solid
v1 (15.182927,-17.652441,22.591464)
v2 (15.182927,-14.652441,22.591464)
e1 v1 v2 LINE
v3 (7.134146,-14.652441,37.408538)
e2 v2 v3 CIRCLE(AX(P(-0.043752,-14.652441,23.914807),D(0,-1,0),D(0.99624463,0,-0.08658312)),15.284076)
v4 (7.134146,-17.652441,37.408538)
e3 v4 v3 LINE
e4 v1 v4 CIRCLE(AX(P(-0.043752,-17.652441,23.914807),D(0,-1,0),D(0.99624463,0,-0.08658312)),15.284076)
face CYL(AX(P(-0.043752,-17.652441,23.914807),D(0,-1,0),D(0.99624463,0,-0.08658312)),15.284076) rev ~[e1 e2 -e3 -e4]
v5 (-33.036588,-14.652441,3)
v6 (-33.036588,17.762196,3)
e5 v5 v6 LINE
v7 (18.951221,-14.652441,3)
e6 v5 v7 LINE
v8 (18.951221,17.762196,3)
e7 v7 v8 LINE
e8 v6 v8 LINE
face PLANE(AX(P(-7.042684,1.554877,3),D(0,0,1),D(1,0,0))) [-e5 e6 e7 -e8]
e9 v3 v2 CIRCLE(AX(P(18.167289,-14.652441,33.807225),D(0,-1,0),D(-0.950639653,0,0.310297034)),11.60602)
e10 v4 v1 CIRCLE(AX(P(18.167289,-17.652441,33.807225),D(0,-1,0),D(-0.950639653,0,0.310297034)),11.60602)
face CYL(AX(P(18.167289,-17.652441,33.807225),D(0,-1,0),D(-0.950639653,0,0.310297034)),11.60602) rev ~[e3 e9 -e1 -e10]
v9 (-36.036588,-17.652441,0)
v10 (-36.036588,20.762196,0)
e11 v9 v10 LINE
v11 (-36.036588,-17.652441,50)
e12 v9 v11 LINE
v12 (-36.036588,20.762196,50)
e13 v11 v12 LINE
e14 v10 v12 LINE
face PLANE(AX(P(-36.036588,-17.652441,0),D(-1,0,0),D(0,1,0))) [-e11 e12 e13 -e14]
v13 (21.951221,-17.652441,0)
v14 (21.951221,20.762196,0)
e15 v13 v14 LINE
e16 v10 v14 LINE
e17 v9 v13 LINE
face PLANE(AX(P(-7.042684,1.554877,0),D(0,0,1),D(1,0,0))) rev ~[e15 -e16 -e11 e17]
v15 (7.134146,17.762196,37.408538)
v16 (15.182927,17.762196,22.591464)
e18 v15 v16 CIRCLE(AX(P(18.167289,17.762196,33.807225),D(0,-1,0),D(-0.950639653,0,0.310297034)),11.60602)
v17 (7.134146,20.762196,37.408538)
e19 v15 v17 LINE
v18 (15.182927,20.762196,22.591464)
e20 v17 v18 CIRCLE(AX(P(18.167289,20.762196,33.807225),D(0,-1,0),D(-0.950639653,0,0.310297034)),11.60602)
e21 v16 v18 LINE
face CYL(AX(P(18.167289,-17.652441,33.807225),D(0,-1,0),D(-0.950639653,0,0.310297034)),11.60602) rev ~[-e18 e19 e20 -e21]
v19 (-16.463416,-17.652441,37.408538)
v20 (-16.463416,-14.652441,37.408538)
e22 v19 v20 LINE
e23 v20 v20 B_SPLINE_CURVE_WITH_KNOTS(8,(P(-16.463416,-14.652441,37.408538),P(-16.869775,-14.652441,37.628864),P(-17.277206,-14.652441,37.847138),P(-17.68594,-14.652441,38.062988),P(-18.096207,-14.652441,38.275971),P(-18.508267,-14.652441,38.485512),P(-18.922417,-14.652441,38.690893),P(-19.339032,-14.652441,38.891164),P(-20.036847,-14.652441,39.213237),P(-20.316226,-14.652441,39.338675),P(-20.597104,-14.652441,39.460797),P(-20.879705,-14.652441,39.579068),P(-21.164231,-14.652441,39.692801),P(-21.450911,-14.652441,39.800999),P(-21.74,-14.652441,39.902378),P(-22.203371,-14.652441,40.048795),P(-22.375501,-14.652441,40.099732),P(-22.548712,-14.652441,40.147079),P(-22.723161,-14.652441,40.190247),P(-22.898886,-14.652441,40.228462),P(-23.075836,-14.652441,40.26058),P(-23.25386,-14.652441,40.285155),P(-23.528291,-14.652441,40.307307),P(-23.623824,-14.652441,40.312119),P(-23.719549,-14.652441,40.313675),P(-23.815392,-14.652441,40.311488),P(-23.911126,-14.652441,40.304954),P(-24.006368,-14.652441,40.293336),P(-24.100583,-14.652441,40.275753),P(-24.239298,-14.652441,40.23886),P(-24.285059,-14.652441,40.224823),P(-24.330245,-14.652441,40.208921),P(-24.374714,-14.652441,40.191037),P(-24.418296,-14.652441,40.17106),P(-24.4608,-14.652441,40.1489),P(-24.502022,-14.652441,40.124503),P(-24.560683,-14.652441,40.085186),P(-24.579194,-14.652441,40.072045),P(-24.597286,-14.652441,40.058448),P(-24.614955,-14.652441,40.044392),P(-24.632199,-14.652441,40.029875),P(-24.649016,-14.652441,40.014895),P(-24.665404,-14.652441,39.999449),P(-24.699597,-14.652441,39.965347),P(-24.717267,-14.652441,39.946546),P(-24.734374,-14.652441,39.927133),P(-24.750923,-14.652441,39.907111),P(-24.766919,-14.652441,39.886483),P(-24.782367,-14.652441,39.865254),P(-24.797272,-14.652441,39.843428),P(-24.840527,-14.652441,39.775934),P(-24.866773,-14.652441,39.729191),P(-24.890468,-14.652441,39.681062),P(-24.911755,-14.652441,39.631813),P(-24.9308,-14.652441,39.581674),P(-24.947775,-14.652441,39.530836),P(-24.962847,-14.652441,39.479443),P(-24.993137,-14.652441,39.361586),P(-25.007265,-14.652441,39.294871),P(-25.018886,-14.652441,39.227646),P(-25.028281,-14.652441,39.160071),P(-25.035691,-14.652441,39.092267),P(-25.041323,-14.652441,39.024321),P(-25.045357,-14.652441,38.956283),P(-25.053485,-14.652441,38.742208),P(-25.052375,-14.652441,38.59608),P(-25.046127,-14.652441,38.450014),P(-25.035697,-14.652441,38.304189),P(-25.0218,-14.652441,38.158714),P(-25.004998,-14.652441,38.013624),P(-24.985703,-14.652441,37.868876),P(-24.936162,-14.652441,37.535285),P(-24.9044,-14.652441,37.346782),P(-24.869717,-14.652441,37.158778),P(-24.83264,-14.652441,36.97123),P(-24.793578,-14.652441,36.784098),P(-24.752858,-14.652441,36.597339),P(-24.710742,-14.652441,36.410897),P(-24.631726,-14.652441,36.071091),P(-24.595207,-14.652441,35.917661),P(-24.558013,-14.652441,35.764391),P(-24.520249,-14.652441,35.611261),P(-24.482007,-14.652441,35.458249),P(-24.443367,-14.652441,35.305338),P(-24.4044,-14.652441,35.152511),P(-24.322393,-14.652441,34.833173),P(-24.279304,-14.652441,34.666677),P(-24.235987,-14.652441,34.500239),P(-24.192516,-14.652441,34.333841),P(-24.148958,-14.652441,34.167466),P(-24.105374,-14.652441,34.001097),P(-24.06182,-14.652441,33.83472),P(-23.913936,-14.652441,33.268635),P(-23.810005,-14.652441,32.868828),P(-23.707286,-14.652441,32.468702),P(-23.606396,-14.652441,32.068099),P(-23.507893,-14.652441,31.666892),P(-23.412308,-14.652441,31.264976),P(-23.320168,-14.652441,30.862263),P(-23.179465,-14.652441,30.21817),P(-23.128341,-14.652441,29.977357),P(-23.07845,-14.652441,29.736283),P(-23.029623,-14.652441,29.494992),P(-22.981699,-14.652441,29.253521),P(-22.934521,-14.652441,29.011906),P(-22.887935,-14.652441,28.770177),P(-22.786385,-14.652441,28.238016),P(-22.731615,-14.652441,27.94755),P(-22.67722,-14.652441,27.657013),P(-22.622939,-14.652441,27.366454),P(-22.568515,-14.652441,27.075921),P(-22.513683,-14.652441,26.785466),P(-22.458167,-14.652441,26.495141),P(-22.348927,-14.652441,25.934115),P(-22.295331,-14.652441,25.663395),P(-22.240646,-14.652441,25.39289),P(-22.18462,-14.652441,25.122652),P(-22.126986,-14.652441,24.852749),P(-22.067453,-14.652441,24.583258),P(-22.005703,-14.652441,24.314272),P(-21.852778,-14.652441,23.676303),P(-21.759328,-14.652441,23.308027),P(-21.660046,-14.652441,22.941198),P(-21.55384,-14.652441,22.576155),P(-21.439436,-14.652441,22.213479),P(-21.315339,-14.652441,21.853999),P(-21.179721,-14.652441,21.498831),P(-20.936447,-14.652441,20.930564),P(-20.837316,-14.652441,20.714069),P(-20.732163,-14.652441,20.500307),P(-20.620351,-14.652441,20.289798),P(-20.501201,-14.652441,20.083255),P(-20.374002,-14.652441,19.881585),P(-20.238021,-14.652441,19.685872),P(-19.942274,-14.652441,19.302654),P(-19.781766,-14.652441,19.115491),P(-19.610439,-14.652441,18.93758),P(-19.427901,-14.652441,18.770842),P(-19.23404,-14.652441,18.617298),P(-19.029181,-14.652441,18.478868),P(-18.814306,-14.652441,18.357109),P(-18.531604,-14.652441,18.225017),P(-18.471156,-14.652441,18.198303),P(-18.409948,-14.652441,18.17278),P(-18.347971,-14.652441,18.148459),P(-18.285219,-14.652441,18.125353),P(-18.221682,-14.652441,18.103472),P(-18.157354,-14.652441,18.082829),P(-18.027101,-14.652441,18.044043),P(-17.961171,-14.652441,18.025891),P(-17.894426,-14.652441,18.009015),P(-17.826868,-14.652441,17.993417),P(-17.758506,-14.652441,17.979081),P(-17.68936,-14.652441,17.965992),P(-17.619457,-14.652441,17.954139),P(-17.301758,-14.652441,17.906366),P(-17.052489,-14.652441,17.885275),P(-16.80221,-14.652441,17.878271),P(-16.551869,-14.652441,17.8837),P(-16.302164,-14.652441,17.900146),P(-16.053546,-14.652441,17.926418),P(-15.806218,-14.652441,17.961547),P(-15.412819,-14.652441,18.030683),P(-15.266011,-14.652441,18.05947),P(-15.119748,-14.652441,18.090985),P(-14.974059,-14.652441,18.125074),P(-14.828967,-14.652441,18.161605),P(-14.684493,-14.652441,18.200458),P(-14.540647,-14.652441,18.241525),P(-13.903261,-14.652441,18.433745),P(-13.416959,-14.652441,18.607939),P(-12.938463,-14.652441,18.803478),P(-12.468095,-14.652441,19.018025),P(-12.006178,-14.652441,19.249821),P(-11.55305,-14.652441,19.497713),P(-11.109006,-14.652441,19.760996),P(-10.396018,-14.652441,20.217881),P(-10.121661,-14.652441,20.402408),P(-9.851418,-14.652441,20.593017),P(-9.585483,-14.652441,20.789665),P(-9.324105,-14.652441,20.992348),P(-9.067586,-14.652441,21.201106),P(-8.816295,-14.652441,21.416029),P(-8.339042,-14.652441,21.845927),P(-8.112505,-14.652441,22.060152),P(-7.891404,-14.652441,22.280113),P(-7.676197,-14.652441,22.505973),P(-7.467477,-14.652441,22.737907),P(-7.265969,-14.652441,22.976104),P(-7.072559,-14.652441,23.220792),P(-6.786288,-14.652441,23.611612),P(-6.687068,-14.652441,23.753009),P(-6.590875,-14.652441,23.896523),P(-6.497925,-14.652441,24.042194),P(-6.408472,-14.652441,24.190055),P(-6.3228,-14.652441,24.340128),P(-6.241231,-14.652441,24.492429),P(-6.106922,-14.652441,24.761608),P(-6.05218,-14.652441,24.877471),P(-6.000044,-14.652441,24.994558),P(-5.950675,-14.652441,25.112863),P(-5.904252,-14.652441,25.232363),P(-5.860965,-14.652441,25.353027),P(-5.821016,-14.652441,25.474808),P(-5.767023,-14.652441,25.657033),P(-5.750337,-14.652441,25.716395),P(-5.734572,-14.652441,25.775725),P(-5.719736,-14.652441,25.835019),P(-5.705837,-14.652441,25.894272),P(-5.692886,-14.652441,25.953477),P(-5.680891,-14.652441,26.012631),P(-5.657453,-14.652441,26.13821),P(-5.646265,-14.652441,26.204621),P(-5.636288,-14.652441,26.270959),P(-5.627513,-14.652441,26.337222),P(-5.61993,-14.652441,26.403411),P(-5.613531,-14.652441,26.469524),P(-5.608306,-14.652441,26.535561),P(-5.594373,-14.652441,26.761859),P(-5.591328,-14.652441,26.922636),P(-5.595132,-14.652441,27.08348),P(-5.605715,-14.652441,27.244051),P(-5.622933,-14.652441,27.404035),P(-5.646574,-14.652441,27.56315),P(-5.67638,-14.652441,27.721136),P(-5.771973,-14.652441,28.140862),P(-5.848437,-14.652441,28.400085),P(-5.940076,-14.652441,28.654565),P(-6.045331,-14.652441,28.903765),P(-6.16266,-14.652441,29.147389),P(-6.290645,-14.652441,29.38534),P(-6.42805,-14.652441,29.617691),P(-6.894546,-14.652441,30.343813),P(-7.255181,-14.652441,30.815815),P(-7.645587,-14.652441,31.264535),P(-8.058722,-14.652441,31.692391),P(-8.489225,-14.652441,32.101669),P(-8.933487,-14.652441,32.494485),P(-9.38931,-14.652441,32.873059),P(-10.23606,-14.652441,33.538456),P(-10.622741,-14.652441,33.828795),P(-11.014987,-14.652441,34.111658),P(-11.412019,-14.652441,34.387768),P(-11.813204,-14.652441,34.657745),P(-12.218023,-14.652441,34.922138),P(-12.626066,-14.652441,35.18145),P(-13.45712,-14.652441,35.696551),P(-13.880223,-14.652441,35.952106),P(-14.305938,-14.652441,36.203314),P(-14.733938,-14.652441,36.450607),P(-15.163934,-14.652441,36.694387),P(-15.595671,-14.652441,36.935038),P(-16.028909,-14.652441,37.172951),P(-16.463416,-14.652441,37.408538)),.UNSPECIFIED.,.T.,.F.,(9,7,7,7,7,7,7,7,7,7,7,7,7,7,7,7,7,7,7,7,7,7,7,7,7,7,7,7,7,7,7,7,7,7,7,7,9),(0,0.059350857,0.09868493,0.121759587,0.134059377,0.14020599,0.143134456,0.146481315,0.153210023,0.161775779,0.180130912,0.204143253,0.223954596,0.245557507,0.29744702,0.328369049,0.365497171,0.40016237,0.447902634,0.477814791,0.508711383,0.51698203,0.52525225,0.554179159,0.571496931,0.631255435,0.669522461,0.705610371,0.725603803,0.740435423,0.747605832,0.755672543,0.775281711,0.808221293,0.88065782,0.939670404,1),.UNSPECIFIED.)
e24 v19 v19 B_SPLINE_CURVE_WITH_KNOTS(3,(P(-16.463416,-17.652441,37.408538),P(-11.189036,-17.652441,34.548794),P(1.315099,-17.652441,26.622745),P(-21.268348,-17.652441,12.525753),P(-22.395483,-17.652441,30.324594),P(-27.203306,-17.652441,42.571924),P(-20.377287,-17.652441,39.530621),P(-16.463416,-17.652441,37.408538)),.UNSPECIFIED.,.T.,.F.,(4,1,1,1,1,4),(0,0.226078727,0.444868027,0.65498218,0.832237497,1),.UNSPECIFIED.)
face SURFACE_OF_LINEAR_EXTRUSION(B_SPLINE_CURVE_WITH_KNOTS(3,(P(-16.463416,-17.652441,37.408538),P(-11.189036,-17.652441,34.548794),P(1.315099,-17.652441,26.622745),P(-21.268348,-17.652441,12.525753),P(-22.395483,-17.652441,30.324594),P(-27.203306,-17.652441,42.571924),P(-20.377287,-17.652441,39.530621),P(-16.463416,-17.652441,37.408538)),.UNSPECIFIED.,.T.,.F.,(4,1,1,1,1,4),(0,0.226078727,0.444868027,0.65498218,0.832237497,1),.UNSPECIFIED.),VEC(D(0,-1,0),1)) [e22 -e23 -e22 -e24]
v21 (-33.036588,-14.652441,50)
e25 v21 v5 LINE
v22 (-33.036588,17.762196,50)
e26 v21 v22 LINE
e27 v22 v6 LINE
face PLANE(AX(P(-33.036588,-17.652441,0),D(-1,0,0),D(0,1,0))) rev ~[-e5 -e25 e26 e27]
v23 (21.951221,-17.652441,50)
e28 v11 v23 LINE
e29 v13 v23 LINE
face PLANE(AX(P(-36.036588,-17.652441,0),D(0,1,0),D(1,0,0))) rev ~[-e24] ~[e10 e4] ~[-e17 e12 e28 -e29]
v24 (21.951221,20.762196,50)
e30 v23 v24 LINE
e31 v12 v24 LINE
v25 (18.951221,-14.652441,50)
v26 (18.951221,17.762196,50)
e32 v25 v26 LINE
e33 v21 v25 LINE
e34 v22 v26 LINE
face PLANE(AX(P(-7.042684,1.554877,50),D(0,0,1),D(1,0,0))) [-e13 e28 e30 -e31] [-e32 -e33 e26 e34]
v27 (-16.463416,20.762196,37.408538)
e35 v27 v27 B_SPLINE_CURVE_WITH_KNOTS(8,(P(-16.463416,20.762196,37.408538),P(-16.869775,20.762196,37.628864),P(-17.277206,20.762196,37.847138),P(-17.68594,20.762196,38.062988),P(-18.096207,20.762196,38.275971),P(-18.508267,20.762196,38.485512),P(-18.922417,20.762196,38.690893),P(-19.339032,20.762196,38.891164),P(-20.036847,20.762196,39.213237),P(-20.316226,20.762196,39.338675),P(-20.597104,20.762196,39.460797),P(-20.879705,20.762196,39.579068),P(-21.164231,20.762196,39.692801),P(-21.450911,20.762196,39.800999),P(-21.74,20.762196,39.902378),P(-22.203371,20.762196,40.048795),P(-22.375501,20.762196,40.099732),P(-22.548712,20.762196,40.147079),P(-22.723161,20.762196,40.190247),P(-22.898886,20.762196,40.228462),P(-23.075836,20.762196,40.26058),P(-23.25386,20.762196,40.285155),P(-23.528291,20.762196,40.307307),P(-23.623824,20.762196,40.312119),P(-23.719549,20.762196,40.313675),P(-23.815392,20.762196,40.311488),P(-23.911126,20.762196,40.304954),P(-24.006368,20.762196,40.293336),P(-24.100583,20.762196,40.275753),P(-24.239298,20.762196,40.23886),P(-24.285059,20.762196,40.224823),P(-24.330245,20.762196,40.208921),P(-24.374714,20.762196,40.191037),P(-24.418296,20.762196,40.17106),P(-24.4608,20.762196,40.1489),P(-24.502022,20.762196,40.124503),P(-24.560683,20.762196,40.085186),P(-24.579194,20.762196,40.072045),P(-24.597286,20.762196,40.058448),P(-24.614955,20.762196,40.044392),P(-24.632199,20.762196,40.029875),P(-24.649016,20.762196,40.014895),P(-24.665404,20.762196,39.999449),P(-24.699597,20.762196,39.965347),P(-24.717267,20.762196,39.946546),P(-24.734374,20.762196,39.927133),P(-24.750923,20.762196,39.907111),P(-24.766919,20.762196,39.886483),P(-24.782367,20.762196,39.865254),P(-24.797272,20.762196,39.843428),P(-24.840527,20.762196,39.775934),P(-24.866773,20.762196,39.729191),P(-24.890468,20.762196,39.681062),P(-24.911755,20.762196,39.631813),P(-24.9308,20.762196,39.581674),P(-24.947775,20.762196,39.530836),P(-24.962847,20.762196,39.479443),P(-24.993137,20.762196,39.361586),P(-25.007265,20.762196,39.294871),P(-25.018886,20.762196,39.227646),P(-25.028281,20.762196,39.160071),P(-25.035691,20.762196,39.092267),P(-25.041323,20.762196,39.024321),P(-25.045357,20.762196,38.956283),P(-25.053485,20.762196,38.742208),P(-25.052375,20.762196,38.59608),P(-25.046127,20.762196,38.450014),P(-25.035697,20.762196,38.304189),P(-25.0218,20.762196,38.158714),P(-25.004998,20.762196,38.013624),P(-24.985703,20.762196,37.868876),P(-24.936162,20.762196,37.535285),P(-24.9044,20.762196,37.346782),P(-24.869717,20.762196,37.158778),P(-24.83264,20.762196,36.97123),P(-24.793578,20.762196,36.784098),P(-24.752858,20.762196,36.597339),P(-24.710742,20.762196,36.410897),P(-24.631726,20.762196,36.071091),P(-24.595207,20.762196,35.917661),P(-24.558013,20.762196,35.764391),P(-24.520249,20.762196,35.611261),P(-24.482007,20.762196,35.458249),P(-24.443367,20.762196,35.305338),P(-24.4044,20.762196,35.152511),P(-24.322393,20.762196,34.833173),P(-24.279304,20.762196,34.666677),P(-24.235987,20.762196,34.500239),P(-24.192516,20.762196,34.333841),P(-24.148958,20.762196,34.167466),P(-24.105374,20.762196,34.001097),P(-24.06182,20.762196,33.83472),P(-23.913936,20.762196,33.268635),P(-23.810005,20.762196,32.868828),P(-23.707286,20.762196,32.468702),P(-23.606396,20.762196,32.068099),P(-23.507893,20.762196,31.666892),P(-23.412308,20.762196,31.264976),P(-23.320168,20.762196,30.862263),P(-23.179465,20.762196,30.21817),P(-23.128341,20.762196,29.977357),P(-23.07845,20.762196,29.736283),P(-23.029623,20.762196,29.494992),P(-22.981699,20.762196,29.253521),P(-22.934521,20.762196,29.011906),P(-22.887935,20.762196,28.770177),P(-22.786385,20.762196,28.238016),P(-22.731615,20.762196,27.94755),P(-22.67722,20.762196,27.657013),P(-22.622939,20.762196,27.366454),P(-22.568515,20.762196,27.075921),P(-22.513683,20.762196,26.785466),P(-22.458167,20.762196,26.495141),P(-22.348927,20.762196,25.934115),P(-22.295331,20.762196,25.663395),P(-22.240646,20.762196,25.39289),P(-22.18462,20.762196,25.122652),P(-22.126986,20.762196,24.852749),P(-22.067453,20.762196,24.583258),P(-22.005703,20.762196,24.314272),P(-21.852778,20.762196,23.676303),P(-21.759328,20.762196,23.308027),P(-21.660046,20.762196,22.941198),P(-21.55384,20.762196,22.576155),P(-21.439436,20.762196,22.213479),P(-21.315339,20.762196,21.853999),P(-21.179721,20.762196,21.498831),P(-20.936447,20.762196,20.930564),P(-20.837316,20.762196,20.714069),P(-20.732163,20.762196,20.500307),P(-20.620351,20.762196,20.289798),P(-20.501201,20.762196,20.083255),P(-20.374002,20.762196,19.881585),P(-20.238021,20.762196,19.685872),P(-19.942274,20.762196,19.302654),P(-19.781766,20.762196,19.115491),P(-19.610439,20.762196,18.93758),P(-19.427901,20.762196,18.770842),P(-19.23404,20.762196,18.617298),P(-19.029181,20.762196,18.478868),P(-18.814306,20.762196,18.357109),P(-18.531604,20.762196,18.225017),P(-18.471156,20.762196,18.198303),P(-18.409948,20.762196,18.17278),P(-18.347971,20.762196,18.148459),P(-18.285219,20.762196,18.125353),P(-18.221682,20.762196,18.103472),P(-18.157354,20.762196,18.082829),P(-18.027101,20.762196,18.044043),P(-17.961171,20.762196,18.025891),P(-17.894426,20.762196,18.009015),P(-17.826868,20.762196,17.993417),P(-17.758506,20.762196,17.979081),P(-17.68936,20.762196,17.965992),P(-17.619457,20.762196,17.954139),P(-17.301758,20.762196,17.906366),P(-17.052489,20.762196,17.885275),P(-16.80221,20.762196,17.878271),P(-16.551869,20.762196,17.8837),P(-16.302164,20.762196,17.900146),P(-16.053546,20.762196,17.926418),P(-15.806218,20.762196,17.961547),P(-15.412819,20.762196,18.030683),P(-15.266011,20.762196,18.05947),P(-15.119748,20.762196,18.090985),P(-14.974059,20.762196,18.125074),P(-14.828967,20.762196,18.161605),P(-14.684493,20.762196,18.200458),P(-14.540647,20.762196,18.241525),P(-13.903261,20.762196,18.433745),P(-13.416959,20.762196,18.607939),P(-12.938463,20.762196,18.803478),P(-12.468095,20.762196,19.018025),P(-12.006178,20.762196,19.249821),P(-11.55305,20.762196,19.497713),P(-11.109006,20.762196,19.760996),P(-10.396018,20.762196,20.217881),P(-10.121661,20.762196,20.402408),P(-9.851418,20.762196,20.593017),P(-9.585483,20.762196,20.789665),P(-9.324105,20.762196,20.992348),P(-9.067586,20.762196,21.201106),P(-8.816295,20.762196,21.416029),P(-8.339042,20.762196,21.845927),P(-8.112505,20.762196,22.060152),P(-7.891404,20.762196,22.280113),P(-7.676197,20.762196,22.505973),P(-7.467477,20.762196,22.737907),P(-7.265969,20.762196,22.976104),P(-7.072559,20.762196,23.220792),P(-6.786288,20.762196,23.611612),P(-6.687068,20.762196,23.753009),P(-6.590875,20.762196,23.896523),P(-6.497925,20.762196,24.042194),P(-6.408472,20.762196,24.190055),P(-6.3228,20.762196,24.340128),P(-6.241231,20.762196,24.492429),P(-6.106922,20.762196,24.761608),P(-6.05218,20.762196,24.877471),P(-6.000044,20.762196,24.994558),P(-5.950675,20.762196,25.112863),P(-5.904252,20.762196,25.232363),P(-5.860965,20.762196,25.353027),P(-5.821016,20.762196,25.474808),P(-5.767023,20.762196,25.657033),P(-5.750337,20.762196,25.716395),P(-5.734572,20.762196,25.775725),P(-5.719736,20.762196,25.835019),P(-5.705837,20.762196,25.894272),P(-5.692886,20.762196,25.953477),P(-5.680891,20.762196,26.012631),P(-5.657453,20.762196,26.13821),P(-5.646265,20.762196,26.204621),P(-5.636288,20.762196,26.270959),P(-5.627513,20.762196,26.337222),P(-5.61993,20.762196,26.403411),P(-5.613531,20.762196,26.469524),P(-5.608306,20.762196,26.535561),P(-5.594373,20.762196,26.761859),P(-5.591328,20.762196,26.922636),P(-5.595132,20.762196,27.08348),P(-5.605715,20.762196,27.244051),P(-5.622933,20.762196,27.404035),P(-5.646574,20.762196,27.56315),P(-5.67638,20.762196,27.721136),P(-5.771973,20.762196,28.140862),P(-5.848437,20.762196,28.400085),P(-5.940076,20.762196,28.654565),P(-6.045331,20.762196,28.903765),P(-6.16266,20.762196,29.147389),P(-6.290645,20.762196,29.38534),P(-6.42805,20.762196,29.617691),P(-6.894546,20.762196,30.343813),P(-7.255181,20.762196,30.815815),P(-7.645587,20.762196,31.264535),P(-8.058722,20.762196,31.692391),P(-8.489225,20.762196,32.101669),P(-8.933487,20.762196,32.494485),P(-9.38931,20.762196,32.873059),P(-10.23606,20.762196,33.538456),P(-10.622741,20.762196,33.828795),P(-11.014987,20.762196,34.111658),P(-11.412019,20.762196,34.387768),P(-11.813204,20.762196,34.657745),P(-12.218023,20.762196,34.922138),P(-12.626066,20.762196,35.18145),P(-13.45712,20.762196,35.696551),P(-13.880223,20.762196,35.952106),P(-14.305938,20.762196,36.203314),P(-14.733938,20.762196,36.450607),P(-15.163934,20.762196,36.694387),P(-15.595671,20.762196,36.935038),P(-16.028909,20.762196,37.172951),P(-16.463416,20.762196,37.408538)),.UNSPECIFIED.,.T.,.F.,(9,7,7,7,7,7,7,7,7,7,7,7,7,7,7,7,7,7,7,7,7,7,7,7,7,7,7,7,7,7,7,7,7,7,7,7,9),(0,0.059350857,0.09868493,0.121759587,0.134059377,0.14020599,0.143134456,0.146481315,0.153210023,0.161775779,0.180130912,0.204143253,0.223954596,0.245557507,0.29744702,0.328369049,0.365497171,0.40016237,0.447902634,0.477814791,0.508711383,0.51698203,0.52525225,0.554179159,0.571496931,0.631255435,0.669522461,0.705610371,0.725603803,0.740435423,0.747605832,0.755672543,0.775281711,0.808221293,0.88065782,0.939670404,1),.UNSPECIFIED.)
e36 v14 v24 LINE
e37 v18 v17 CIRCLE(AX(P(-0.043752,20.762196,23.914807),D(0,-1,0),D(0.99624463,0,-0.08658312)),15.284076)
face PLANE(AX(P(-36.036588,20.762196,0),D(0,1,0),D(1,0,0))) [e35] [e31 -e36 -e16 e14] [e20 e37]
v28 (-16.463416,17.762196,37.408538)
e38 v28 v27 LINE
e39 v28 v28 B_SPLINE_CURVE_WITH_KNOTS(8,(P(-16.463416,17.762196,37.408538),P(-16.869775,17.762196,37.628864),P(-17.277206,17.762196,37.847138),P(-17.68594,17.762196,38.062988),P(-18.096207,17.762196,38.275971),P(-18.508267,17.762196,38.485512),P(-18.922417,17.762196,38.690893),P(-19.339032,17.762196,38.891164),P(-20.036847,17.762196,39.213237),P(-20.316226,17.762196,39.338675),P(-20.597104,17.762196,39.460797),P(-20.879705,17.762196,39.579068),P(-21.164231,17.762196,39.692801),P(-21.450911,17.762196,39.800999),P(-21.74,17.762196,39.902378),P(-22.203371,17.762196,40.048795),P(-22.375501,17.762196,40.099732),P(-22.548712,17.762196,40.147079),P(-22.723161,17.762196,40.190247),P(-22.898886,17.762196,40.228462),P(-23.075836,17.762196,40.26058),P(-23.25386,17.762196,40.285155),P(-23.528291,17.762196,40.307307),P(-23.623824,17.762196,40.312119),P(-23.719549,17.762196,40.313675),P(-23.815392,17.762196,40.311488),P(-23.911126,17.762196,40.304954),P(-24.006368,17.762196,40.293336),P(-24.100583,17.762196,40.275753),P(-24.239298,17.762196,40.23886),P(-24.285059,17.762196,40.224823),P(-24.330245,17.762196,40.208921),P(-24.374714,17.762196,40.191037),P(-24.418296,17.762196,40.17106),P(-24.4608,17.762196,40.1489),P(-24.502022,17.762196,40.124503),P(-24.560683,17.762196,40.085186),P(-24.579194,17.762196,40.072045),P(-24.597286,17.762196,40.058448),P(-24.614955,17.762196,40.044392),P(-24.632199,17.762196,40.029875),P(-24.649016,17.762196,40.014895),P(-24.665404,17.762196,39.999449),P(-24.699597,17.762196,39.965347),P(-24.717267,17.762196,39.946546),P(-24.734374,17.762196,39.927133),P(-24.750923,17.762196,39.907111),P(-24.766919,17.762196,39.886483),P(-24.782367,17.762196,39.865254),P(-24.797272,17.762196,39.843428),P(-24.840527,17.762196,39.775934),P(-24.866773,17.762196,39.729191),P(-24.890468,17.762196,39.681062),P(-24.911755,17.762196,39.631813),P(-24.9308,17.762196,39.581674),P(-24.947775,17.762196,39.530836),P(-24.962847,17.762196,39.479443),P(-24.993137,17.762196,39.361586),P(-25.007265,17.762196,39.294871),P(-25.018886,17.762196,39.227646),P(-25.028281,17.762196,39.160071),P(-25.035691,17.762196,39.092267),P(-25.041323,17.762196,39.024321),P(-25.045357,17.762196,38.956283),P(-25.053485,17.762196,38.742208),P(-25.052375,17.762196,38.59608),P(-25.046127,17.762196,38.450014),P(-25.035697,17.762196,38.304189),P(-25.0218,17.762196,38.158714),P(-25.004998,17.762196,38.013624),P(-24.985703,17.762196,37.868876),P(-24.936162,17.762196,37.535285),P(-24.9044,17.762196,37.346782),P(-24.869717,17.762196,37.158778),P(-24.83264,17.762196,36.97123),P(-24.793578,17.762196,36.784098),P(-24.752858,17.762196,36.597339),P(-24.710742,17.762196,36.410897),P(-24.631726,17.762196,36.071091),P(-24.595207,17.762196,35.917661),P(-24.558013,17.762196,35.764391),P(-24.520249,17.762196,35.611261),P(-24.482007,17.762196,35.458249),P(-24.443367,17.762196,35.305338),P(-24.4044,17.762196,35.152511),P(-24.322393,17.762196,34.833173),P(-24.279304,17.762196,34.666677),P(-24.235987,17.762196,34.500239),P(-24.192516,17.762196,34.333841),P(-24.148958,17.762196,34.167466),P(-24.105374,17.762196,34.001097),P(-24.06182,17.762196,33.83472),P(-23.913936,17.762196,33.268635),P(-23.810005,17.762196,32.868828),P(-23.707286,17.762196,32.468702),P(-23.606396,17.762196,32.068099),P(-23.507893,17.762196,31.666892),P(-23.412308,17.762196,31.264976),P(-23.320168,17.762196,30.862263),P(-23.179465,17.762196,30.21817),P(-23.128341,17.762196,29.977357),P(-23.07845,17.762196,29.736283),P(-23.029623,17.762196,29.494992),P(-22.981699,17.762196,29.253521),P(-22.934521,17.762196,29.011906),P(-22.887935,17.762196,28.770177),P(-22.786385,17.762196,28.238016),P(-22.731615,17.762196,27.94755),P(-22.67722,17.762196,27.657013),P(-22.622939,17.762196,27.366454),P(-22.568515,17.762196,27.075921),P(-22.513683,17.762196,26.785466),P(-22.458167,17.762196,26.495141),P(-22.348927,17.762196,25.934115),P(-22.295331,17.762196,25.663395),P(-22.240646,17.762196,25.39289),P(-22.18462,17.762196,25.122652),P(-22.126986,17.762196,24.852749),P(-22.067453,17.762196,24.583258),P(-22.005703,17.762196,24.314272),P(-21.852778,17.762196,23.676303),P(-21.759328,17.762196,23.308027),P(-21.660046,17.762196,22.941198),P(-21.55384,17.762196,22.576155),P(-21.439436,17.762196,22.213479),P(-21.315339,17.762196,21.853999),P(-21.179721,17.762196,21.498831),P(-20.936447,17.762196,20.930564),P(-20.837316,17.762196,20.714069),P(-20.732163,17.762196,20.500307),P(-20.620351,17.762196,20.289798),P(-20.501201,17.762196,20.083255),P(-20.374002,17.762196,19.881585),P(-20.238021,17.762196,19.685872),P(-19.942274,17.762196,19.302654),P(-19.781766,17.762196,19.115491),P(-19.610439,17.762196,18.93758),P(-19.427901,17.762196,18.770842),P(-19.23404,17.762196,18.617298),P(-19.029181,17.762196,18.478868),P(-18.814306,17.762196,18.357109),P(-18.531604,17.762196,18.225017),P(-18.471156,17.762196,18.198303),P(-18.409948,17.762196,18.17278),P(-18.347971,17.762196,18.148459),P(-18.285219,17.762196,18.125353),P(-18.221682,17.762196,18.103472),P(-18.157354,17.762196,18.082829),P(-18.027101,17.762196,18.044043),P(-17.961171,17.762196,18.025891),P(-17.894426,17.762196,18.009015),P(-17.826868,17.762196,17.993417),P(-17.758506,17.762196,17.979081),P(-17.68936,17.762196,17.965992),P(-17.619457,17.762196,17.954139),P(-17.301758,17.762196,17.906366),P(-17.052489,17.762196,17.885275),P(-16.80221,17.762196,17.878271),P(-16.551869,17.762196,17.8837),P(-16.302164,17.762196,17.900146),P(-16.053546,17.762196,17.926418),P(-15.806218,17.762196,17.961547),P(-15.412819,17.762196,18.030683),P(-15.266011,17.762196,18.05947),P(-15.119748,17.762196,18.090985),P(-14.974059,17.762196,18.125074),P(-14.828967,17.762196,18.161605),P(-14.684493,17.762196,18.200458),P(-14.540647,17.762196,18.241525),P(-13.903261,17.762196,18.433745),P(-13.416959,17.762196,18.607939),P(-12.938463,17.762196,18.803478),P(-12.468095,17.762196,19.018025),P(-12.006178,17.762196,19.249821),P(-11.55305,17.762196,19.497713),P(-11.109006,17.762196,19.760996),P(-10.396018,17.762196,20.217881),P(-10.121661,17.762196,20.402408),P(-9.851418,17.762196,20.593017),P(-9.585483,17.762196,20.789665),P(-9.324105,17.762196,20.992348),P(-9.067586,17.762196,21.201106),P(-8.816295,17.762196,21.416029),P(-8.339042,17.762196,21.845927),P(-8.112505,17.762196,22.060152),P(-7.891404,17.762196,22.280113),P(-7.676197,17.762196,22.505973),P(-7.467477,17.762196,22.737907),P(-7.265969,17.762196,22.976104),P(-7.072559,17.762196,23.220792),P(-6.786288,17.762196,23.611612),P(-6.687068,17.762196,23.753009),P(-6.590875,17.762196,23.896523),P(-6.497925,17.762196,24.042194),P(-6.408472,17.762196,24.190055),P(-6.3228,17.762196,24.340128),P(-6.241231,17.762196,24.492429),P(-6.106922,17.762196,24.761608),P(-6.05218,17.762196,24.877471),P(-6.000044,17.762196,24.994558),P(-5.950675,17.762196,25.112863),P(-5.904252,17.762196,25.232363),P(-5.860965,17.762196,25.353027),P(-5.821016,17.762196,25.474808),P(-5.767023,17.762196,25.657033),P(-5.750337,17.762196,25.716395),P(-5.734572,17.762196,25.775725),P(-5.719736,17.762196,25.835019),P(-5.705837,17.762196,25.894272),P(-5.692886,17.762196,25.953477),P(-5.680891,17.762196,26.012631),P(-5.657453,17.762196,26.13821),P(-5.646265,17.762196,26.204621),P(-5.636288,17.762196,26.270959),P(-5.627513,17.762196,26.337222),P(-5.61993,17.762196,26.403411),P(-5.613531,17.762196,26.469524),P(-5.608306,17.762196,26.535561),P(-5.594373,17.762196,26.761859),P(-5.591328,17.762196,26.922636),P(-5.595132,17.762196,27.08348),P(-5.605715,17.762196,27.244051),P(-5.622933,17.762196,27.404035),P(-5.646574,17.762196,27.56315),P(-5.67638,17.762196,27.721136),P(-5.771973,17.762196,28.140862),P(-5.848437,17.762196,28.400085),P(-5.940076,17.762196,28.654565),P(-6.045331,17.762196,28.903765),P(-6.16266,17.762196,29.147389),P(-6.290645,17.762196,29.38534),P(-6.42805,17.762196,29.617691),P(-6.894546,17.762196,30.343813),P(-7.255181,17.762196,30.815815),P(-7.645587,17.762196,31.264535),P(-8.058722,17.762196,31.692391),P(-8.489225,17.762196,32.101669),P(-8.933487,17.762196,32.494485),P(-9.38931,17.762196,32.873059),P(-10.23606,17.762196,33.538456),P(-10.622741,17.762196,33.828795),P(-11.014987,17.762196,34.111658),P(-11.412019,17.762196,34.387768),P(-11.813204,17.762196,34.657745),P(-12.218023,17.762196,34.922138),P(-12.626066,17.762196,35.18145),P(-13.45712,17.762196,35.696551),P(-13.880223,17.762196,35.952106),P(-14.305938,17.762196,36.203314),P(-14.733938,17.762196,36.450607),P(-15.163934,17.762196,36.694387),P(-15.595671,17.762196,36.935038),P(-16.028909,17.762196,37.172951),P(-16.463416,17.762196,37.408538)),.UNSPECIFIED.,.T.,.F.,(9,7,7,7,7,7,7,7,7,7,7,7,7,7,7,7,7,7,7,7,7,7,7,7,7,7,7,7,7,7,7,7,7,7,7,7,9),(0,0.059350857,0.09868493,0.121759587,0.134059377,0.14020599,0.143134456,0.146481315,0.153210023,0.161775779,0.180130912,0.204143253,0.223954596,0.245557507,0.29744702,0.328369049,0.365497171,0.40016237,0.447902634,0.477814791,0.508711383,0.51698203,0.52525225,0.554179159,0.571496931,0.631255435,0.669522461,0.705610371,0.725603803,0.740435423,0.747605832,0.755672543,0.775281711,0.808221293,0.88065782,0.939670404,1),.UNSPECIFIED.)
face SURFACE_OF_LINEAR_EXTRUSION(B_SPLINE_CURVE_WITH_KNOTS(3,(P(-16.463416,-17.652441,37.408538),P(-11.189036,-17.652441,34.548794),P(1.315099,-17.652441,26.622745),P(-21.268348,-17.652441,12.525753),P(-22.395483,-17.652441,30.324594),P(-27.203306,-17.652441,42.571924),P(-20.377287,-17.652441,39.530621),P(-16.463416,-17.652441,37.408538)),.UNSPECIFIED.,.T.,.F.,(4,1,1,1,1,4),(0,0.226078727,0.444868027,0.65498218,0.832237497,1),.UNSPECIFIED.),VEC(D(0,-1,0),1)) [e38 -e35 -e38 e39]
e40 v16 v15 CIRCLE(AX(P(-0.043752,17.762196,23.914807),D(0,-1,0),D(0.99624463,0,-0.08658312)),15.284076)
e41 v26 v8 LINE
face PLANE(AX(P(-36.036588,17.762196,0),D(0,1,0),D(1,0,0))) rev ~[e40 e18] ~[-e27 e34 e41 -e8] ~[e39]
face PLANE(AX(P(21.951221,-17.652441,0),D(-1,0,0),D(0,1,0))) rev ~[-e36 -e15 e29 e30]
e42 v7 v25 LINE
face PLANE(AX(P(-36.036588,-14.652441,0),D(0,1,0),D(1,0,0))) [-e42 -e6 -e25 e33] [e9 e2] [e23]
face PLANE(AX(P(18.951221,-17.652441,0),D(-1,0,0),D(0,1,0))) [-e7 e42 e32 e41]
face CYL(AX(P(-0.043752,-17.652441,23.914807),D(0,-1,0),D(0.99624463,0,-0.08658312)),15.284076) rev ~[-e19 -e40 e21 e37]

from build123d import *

# Parameters (mm, degrees)
F0_W     = 57.9878091812
F0_H     = 38.4146366268
F1_DEPTH = 50
F2_T     = -3
F4_DEPTH = 38.4156366268


with BuildPart() as f1:
    # F0 (on Top) → F1 (new body)
    with BuildSketch(Plane.XY):
        with Locations((-7.042683661, 1.5548774973)):
            Rectangle(F0_W, F0_H)
    extrude(amount=F1_DEPTH)

    # F2
    f2_openings = [f1.faces().sort_by_distance(p)[0] for p in [
        (-7.042684, 1.554877, 50),
    ]]
    offset(amount=F2_T, openings=f2_openings)

    # F3 (on face) → F4 (cut, through all)
    with BuildSketch(Plane.XZ.offset(17.6524408162)):
        with BuildLine():
            add(Edge.make_bspline(
                [(-16.4634156972, 37.4085381627), (-11.1890363739, 34.5487939189), (1.3150993888, 26.6227449202), (-21.2683478099, 12.525752902), (-22.3954826963, 30.3245935739), (-27.2033055371, 42.5719243048), (-20.3772871456, 39.5306212856), (-16.4634156972, 37.4085381627)],
                knots=[0, 0, 0, 0, 0.2260787274, 0.4448680265, 0.65498218, 0.8322374972, 1, 1, 1, 1], degree=3))
        make_face()
        with BuildLine():
            ThreePointArc((15.1829272509, 22.5914642215), (13.3867242374, 31.2103747375), (7.1341460571, 37.4085381627))
            ThreePointArc((7.1341460571, 37.4085381627), (7.9688071733, 28.2673085728), (15.1829272509, 22.5914642215))
        make_face()
    extrude(amount=-F4_DEPTH, mode=Mode.SUBTRACT)


solid = f1.part
